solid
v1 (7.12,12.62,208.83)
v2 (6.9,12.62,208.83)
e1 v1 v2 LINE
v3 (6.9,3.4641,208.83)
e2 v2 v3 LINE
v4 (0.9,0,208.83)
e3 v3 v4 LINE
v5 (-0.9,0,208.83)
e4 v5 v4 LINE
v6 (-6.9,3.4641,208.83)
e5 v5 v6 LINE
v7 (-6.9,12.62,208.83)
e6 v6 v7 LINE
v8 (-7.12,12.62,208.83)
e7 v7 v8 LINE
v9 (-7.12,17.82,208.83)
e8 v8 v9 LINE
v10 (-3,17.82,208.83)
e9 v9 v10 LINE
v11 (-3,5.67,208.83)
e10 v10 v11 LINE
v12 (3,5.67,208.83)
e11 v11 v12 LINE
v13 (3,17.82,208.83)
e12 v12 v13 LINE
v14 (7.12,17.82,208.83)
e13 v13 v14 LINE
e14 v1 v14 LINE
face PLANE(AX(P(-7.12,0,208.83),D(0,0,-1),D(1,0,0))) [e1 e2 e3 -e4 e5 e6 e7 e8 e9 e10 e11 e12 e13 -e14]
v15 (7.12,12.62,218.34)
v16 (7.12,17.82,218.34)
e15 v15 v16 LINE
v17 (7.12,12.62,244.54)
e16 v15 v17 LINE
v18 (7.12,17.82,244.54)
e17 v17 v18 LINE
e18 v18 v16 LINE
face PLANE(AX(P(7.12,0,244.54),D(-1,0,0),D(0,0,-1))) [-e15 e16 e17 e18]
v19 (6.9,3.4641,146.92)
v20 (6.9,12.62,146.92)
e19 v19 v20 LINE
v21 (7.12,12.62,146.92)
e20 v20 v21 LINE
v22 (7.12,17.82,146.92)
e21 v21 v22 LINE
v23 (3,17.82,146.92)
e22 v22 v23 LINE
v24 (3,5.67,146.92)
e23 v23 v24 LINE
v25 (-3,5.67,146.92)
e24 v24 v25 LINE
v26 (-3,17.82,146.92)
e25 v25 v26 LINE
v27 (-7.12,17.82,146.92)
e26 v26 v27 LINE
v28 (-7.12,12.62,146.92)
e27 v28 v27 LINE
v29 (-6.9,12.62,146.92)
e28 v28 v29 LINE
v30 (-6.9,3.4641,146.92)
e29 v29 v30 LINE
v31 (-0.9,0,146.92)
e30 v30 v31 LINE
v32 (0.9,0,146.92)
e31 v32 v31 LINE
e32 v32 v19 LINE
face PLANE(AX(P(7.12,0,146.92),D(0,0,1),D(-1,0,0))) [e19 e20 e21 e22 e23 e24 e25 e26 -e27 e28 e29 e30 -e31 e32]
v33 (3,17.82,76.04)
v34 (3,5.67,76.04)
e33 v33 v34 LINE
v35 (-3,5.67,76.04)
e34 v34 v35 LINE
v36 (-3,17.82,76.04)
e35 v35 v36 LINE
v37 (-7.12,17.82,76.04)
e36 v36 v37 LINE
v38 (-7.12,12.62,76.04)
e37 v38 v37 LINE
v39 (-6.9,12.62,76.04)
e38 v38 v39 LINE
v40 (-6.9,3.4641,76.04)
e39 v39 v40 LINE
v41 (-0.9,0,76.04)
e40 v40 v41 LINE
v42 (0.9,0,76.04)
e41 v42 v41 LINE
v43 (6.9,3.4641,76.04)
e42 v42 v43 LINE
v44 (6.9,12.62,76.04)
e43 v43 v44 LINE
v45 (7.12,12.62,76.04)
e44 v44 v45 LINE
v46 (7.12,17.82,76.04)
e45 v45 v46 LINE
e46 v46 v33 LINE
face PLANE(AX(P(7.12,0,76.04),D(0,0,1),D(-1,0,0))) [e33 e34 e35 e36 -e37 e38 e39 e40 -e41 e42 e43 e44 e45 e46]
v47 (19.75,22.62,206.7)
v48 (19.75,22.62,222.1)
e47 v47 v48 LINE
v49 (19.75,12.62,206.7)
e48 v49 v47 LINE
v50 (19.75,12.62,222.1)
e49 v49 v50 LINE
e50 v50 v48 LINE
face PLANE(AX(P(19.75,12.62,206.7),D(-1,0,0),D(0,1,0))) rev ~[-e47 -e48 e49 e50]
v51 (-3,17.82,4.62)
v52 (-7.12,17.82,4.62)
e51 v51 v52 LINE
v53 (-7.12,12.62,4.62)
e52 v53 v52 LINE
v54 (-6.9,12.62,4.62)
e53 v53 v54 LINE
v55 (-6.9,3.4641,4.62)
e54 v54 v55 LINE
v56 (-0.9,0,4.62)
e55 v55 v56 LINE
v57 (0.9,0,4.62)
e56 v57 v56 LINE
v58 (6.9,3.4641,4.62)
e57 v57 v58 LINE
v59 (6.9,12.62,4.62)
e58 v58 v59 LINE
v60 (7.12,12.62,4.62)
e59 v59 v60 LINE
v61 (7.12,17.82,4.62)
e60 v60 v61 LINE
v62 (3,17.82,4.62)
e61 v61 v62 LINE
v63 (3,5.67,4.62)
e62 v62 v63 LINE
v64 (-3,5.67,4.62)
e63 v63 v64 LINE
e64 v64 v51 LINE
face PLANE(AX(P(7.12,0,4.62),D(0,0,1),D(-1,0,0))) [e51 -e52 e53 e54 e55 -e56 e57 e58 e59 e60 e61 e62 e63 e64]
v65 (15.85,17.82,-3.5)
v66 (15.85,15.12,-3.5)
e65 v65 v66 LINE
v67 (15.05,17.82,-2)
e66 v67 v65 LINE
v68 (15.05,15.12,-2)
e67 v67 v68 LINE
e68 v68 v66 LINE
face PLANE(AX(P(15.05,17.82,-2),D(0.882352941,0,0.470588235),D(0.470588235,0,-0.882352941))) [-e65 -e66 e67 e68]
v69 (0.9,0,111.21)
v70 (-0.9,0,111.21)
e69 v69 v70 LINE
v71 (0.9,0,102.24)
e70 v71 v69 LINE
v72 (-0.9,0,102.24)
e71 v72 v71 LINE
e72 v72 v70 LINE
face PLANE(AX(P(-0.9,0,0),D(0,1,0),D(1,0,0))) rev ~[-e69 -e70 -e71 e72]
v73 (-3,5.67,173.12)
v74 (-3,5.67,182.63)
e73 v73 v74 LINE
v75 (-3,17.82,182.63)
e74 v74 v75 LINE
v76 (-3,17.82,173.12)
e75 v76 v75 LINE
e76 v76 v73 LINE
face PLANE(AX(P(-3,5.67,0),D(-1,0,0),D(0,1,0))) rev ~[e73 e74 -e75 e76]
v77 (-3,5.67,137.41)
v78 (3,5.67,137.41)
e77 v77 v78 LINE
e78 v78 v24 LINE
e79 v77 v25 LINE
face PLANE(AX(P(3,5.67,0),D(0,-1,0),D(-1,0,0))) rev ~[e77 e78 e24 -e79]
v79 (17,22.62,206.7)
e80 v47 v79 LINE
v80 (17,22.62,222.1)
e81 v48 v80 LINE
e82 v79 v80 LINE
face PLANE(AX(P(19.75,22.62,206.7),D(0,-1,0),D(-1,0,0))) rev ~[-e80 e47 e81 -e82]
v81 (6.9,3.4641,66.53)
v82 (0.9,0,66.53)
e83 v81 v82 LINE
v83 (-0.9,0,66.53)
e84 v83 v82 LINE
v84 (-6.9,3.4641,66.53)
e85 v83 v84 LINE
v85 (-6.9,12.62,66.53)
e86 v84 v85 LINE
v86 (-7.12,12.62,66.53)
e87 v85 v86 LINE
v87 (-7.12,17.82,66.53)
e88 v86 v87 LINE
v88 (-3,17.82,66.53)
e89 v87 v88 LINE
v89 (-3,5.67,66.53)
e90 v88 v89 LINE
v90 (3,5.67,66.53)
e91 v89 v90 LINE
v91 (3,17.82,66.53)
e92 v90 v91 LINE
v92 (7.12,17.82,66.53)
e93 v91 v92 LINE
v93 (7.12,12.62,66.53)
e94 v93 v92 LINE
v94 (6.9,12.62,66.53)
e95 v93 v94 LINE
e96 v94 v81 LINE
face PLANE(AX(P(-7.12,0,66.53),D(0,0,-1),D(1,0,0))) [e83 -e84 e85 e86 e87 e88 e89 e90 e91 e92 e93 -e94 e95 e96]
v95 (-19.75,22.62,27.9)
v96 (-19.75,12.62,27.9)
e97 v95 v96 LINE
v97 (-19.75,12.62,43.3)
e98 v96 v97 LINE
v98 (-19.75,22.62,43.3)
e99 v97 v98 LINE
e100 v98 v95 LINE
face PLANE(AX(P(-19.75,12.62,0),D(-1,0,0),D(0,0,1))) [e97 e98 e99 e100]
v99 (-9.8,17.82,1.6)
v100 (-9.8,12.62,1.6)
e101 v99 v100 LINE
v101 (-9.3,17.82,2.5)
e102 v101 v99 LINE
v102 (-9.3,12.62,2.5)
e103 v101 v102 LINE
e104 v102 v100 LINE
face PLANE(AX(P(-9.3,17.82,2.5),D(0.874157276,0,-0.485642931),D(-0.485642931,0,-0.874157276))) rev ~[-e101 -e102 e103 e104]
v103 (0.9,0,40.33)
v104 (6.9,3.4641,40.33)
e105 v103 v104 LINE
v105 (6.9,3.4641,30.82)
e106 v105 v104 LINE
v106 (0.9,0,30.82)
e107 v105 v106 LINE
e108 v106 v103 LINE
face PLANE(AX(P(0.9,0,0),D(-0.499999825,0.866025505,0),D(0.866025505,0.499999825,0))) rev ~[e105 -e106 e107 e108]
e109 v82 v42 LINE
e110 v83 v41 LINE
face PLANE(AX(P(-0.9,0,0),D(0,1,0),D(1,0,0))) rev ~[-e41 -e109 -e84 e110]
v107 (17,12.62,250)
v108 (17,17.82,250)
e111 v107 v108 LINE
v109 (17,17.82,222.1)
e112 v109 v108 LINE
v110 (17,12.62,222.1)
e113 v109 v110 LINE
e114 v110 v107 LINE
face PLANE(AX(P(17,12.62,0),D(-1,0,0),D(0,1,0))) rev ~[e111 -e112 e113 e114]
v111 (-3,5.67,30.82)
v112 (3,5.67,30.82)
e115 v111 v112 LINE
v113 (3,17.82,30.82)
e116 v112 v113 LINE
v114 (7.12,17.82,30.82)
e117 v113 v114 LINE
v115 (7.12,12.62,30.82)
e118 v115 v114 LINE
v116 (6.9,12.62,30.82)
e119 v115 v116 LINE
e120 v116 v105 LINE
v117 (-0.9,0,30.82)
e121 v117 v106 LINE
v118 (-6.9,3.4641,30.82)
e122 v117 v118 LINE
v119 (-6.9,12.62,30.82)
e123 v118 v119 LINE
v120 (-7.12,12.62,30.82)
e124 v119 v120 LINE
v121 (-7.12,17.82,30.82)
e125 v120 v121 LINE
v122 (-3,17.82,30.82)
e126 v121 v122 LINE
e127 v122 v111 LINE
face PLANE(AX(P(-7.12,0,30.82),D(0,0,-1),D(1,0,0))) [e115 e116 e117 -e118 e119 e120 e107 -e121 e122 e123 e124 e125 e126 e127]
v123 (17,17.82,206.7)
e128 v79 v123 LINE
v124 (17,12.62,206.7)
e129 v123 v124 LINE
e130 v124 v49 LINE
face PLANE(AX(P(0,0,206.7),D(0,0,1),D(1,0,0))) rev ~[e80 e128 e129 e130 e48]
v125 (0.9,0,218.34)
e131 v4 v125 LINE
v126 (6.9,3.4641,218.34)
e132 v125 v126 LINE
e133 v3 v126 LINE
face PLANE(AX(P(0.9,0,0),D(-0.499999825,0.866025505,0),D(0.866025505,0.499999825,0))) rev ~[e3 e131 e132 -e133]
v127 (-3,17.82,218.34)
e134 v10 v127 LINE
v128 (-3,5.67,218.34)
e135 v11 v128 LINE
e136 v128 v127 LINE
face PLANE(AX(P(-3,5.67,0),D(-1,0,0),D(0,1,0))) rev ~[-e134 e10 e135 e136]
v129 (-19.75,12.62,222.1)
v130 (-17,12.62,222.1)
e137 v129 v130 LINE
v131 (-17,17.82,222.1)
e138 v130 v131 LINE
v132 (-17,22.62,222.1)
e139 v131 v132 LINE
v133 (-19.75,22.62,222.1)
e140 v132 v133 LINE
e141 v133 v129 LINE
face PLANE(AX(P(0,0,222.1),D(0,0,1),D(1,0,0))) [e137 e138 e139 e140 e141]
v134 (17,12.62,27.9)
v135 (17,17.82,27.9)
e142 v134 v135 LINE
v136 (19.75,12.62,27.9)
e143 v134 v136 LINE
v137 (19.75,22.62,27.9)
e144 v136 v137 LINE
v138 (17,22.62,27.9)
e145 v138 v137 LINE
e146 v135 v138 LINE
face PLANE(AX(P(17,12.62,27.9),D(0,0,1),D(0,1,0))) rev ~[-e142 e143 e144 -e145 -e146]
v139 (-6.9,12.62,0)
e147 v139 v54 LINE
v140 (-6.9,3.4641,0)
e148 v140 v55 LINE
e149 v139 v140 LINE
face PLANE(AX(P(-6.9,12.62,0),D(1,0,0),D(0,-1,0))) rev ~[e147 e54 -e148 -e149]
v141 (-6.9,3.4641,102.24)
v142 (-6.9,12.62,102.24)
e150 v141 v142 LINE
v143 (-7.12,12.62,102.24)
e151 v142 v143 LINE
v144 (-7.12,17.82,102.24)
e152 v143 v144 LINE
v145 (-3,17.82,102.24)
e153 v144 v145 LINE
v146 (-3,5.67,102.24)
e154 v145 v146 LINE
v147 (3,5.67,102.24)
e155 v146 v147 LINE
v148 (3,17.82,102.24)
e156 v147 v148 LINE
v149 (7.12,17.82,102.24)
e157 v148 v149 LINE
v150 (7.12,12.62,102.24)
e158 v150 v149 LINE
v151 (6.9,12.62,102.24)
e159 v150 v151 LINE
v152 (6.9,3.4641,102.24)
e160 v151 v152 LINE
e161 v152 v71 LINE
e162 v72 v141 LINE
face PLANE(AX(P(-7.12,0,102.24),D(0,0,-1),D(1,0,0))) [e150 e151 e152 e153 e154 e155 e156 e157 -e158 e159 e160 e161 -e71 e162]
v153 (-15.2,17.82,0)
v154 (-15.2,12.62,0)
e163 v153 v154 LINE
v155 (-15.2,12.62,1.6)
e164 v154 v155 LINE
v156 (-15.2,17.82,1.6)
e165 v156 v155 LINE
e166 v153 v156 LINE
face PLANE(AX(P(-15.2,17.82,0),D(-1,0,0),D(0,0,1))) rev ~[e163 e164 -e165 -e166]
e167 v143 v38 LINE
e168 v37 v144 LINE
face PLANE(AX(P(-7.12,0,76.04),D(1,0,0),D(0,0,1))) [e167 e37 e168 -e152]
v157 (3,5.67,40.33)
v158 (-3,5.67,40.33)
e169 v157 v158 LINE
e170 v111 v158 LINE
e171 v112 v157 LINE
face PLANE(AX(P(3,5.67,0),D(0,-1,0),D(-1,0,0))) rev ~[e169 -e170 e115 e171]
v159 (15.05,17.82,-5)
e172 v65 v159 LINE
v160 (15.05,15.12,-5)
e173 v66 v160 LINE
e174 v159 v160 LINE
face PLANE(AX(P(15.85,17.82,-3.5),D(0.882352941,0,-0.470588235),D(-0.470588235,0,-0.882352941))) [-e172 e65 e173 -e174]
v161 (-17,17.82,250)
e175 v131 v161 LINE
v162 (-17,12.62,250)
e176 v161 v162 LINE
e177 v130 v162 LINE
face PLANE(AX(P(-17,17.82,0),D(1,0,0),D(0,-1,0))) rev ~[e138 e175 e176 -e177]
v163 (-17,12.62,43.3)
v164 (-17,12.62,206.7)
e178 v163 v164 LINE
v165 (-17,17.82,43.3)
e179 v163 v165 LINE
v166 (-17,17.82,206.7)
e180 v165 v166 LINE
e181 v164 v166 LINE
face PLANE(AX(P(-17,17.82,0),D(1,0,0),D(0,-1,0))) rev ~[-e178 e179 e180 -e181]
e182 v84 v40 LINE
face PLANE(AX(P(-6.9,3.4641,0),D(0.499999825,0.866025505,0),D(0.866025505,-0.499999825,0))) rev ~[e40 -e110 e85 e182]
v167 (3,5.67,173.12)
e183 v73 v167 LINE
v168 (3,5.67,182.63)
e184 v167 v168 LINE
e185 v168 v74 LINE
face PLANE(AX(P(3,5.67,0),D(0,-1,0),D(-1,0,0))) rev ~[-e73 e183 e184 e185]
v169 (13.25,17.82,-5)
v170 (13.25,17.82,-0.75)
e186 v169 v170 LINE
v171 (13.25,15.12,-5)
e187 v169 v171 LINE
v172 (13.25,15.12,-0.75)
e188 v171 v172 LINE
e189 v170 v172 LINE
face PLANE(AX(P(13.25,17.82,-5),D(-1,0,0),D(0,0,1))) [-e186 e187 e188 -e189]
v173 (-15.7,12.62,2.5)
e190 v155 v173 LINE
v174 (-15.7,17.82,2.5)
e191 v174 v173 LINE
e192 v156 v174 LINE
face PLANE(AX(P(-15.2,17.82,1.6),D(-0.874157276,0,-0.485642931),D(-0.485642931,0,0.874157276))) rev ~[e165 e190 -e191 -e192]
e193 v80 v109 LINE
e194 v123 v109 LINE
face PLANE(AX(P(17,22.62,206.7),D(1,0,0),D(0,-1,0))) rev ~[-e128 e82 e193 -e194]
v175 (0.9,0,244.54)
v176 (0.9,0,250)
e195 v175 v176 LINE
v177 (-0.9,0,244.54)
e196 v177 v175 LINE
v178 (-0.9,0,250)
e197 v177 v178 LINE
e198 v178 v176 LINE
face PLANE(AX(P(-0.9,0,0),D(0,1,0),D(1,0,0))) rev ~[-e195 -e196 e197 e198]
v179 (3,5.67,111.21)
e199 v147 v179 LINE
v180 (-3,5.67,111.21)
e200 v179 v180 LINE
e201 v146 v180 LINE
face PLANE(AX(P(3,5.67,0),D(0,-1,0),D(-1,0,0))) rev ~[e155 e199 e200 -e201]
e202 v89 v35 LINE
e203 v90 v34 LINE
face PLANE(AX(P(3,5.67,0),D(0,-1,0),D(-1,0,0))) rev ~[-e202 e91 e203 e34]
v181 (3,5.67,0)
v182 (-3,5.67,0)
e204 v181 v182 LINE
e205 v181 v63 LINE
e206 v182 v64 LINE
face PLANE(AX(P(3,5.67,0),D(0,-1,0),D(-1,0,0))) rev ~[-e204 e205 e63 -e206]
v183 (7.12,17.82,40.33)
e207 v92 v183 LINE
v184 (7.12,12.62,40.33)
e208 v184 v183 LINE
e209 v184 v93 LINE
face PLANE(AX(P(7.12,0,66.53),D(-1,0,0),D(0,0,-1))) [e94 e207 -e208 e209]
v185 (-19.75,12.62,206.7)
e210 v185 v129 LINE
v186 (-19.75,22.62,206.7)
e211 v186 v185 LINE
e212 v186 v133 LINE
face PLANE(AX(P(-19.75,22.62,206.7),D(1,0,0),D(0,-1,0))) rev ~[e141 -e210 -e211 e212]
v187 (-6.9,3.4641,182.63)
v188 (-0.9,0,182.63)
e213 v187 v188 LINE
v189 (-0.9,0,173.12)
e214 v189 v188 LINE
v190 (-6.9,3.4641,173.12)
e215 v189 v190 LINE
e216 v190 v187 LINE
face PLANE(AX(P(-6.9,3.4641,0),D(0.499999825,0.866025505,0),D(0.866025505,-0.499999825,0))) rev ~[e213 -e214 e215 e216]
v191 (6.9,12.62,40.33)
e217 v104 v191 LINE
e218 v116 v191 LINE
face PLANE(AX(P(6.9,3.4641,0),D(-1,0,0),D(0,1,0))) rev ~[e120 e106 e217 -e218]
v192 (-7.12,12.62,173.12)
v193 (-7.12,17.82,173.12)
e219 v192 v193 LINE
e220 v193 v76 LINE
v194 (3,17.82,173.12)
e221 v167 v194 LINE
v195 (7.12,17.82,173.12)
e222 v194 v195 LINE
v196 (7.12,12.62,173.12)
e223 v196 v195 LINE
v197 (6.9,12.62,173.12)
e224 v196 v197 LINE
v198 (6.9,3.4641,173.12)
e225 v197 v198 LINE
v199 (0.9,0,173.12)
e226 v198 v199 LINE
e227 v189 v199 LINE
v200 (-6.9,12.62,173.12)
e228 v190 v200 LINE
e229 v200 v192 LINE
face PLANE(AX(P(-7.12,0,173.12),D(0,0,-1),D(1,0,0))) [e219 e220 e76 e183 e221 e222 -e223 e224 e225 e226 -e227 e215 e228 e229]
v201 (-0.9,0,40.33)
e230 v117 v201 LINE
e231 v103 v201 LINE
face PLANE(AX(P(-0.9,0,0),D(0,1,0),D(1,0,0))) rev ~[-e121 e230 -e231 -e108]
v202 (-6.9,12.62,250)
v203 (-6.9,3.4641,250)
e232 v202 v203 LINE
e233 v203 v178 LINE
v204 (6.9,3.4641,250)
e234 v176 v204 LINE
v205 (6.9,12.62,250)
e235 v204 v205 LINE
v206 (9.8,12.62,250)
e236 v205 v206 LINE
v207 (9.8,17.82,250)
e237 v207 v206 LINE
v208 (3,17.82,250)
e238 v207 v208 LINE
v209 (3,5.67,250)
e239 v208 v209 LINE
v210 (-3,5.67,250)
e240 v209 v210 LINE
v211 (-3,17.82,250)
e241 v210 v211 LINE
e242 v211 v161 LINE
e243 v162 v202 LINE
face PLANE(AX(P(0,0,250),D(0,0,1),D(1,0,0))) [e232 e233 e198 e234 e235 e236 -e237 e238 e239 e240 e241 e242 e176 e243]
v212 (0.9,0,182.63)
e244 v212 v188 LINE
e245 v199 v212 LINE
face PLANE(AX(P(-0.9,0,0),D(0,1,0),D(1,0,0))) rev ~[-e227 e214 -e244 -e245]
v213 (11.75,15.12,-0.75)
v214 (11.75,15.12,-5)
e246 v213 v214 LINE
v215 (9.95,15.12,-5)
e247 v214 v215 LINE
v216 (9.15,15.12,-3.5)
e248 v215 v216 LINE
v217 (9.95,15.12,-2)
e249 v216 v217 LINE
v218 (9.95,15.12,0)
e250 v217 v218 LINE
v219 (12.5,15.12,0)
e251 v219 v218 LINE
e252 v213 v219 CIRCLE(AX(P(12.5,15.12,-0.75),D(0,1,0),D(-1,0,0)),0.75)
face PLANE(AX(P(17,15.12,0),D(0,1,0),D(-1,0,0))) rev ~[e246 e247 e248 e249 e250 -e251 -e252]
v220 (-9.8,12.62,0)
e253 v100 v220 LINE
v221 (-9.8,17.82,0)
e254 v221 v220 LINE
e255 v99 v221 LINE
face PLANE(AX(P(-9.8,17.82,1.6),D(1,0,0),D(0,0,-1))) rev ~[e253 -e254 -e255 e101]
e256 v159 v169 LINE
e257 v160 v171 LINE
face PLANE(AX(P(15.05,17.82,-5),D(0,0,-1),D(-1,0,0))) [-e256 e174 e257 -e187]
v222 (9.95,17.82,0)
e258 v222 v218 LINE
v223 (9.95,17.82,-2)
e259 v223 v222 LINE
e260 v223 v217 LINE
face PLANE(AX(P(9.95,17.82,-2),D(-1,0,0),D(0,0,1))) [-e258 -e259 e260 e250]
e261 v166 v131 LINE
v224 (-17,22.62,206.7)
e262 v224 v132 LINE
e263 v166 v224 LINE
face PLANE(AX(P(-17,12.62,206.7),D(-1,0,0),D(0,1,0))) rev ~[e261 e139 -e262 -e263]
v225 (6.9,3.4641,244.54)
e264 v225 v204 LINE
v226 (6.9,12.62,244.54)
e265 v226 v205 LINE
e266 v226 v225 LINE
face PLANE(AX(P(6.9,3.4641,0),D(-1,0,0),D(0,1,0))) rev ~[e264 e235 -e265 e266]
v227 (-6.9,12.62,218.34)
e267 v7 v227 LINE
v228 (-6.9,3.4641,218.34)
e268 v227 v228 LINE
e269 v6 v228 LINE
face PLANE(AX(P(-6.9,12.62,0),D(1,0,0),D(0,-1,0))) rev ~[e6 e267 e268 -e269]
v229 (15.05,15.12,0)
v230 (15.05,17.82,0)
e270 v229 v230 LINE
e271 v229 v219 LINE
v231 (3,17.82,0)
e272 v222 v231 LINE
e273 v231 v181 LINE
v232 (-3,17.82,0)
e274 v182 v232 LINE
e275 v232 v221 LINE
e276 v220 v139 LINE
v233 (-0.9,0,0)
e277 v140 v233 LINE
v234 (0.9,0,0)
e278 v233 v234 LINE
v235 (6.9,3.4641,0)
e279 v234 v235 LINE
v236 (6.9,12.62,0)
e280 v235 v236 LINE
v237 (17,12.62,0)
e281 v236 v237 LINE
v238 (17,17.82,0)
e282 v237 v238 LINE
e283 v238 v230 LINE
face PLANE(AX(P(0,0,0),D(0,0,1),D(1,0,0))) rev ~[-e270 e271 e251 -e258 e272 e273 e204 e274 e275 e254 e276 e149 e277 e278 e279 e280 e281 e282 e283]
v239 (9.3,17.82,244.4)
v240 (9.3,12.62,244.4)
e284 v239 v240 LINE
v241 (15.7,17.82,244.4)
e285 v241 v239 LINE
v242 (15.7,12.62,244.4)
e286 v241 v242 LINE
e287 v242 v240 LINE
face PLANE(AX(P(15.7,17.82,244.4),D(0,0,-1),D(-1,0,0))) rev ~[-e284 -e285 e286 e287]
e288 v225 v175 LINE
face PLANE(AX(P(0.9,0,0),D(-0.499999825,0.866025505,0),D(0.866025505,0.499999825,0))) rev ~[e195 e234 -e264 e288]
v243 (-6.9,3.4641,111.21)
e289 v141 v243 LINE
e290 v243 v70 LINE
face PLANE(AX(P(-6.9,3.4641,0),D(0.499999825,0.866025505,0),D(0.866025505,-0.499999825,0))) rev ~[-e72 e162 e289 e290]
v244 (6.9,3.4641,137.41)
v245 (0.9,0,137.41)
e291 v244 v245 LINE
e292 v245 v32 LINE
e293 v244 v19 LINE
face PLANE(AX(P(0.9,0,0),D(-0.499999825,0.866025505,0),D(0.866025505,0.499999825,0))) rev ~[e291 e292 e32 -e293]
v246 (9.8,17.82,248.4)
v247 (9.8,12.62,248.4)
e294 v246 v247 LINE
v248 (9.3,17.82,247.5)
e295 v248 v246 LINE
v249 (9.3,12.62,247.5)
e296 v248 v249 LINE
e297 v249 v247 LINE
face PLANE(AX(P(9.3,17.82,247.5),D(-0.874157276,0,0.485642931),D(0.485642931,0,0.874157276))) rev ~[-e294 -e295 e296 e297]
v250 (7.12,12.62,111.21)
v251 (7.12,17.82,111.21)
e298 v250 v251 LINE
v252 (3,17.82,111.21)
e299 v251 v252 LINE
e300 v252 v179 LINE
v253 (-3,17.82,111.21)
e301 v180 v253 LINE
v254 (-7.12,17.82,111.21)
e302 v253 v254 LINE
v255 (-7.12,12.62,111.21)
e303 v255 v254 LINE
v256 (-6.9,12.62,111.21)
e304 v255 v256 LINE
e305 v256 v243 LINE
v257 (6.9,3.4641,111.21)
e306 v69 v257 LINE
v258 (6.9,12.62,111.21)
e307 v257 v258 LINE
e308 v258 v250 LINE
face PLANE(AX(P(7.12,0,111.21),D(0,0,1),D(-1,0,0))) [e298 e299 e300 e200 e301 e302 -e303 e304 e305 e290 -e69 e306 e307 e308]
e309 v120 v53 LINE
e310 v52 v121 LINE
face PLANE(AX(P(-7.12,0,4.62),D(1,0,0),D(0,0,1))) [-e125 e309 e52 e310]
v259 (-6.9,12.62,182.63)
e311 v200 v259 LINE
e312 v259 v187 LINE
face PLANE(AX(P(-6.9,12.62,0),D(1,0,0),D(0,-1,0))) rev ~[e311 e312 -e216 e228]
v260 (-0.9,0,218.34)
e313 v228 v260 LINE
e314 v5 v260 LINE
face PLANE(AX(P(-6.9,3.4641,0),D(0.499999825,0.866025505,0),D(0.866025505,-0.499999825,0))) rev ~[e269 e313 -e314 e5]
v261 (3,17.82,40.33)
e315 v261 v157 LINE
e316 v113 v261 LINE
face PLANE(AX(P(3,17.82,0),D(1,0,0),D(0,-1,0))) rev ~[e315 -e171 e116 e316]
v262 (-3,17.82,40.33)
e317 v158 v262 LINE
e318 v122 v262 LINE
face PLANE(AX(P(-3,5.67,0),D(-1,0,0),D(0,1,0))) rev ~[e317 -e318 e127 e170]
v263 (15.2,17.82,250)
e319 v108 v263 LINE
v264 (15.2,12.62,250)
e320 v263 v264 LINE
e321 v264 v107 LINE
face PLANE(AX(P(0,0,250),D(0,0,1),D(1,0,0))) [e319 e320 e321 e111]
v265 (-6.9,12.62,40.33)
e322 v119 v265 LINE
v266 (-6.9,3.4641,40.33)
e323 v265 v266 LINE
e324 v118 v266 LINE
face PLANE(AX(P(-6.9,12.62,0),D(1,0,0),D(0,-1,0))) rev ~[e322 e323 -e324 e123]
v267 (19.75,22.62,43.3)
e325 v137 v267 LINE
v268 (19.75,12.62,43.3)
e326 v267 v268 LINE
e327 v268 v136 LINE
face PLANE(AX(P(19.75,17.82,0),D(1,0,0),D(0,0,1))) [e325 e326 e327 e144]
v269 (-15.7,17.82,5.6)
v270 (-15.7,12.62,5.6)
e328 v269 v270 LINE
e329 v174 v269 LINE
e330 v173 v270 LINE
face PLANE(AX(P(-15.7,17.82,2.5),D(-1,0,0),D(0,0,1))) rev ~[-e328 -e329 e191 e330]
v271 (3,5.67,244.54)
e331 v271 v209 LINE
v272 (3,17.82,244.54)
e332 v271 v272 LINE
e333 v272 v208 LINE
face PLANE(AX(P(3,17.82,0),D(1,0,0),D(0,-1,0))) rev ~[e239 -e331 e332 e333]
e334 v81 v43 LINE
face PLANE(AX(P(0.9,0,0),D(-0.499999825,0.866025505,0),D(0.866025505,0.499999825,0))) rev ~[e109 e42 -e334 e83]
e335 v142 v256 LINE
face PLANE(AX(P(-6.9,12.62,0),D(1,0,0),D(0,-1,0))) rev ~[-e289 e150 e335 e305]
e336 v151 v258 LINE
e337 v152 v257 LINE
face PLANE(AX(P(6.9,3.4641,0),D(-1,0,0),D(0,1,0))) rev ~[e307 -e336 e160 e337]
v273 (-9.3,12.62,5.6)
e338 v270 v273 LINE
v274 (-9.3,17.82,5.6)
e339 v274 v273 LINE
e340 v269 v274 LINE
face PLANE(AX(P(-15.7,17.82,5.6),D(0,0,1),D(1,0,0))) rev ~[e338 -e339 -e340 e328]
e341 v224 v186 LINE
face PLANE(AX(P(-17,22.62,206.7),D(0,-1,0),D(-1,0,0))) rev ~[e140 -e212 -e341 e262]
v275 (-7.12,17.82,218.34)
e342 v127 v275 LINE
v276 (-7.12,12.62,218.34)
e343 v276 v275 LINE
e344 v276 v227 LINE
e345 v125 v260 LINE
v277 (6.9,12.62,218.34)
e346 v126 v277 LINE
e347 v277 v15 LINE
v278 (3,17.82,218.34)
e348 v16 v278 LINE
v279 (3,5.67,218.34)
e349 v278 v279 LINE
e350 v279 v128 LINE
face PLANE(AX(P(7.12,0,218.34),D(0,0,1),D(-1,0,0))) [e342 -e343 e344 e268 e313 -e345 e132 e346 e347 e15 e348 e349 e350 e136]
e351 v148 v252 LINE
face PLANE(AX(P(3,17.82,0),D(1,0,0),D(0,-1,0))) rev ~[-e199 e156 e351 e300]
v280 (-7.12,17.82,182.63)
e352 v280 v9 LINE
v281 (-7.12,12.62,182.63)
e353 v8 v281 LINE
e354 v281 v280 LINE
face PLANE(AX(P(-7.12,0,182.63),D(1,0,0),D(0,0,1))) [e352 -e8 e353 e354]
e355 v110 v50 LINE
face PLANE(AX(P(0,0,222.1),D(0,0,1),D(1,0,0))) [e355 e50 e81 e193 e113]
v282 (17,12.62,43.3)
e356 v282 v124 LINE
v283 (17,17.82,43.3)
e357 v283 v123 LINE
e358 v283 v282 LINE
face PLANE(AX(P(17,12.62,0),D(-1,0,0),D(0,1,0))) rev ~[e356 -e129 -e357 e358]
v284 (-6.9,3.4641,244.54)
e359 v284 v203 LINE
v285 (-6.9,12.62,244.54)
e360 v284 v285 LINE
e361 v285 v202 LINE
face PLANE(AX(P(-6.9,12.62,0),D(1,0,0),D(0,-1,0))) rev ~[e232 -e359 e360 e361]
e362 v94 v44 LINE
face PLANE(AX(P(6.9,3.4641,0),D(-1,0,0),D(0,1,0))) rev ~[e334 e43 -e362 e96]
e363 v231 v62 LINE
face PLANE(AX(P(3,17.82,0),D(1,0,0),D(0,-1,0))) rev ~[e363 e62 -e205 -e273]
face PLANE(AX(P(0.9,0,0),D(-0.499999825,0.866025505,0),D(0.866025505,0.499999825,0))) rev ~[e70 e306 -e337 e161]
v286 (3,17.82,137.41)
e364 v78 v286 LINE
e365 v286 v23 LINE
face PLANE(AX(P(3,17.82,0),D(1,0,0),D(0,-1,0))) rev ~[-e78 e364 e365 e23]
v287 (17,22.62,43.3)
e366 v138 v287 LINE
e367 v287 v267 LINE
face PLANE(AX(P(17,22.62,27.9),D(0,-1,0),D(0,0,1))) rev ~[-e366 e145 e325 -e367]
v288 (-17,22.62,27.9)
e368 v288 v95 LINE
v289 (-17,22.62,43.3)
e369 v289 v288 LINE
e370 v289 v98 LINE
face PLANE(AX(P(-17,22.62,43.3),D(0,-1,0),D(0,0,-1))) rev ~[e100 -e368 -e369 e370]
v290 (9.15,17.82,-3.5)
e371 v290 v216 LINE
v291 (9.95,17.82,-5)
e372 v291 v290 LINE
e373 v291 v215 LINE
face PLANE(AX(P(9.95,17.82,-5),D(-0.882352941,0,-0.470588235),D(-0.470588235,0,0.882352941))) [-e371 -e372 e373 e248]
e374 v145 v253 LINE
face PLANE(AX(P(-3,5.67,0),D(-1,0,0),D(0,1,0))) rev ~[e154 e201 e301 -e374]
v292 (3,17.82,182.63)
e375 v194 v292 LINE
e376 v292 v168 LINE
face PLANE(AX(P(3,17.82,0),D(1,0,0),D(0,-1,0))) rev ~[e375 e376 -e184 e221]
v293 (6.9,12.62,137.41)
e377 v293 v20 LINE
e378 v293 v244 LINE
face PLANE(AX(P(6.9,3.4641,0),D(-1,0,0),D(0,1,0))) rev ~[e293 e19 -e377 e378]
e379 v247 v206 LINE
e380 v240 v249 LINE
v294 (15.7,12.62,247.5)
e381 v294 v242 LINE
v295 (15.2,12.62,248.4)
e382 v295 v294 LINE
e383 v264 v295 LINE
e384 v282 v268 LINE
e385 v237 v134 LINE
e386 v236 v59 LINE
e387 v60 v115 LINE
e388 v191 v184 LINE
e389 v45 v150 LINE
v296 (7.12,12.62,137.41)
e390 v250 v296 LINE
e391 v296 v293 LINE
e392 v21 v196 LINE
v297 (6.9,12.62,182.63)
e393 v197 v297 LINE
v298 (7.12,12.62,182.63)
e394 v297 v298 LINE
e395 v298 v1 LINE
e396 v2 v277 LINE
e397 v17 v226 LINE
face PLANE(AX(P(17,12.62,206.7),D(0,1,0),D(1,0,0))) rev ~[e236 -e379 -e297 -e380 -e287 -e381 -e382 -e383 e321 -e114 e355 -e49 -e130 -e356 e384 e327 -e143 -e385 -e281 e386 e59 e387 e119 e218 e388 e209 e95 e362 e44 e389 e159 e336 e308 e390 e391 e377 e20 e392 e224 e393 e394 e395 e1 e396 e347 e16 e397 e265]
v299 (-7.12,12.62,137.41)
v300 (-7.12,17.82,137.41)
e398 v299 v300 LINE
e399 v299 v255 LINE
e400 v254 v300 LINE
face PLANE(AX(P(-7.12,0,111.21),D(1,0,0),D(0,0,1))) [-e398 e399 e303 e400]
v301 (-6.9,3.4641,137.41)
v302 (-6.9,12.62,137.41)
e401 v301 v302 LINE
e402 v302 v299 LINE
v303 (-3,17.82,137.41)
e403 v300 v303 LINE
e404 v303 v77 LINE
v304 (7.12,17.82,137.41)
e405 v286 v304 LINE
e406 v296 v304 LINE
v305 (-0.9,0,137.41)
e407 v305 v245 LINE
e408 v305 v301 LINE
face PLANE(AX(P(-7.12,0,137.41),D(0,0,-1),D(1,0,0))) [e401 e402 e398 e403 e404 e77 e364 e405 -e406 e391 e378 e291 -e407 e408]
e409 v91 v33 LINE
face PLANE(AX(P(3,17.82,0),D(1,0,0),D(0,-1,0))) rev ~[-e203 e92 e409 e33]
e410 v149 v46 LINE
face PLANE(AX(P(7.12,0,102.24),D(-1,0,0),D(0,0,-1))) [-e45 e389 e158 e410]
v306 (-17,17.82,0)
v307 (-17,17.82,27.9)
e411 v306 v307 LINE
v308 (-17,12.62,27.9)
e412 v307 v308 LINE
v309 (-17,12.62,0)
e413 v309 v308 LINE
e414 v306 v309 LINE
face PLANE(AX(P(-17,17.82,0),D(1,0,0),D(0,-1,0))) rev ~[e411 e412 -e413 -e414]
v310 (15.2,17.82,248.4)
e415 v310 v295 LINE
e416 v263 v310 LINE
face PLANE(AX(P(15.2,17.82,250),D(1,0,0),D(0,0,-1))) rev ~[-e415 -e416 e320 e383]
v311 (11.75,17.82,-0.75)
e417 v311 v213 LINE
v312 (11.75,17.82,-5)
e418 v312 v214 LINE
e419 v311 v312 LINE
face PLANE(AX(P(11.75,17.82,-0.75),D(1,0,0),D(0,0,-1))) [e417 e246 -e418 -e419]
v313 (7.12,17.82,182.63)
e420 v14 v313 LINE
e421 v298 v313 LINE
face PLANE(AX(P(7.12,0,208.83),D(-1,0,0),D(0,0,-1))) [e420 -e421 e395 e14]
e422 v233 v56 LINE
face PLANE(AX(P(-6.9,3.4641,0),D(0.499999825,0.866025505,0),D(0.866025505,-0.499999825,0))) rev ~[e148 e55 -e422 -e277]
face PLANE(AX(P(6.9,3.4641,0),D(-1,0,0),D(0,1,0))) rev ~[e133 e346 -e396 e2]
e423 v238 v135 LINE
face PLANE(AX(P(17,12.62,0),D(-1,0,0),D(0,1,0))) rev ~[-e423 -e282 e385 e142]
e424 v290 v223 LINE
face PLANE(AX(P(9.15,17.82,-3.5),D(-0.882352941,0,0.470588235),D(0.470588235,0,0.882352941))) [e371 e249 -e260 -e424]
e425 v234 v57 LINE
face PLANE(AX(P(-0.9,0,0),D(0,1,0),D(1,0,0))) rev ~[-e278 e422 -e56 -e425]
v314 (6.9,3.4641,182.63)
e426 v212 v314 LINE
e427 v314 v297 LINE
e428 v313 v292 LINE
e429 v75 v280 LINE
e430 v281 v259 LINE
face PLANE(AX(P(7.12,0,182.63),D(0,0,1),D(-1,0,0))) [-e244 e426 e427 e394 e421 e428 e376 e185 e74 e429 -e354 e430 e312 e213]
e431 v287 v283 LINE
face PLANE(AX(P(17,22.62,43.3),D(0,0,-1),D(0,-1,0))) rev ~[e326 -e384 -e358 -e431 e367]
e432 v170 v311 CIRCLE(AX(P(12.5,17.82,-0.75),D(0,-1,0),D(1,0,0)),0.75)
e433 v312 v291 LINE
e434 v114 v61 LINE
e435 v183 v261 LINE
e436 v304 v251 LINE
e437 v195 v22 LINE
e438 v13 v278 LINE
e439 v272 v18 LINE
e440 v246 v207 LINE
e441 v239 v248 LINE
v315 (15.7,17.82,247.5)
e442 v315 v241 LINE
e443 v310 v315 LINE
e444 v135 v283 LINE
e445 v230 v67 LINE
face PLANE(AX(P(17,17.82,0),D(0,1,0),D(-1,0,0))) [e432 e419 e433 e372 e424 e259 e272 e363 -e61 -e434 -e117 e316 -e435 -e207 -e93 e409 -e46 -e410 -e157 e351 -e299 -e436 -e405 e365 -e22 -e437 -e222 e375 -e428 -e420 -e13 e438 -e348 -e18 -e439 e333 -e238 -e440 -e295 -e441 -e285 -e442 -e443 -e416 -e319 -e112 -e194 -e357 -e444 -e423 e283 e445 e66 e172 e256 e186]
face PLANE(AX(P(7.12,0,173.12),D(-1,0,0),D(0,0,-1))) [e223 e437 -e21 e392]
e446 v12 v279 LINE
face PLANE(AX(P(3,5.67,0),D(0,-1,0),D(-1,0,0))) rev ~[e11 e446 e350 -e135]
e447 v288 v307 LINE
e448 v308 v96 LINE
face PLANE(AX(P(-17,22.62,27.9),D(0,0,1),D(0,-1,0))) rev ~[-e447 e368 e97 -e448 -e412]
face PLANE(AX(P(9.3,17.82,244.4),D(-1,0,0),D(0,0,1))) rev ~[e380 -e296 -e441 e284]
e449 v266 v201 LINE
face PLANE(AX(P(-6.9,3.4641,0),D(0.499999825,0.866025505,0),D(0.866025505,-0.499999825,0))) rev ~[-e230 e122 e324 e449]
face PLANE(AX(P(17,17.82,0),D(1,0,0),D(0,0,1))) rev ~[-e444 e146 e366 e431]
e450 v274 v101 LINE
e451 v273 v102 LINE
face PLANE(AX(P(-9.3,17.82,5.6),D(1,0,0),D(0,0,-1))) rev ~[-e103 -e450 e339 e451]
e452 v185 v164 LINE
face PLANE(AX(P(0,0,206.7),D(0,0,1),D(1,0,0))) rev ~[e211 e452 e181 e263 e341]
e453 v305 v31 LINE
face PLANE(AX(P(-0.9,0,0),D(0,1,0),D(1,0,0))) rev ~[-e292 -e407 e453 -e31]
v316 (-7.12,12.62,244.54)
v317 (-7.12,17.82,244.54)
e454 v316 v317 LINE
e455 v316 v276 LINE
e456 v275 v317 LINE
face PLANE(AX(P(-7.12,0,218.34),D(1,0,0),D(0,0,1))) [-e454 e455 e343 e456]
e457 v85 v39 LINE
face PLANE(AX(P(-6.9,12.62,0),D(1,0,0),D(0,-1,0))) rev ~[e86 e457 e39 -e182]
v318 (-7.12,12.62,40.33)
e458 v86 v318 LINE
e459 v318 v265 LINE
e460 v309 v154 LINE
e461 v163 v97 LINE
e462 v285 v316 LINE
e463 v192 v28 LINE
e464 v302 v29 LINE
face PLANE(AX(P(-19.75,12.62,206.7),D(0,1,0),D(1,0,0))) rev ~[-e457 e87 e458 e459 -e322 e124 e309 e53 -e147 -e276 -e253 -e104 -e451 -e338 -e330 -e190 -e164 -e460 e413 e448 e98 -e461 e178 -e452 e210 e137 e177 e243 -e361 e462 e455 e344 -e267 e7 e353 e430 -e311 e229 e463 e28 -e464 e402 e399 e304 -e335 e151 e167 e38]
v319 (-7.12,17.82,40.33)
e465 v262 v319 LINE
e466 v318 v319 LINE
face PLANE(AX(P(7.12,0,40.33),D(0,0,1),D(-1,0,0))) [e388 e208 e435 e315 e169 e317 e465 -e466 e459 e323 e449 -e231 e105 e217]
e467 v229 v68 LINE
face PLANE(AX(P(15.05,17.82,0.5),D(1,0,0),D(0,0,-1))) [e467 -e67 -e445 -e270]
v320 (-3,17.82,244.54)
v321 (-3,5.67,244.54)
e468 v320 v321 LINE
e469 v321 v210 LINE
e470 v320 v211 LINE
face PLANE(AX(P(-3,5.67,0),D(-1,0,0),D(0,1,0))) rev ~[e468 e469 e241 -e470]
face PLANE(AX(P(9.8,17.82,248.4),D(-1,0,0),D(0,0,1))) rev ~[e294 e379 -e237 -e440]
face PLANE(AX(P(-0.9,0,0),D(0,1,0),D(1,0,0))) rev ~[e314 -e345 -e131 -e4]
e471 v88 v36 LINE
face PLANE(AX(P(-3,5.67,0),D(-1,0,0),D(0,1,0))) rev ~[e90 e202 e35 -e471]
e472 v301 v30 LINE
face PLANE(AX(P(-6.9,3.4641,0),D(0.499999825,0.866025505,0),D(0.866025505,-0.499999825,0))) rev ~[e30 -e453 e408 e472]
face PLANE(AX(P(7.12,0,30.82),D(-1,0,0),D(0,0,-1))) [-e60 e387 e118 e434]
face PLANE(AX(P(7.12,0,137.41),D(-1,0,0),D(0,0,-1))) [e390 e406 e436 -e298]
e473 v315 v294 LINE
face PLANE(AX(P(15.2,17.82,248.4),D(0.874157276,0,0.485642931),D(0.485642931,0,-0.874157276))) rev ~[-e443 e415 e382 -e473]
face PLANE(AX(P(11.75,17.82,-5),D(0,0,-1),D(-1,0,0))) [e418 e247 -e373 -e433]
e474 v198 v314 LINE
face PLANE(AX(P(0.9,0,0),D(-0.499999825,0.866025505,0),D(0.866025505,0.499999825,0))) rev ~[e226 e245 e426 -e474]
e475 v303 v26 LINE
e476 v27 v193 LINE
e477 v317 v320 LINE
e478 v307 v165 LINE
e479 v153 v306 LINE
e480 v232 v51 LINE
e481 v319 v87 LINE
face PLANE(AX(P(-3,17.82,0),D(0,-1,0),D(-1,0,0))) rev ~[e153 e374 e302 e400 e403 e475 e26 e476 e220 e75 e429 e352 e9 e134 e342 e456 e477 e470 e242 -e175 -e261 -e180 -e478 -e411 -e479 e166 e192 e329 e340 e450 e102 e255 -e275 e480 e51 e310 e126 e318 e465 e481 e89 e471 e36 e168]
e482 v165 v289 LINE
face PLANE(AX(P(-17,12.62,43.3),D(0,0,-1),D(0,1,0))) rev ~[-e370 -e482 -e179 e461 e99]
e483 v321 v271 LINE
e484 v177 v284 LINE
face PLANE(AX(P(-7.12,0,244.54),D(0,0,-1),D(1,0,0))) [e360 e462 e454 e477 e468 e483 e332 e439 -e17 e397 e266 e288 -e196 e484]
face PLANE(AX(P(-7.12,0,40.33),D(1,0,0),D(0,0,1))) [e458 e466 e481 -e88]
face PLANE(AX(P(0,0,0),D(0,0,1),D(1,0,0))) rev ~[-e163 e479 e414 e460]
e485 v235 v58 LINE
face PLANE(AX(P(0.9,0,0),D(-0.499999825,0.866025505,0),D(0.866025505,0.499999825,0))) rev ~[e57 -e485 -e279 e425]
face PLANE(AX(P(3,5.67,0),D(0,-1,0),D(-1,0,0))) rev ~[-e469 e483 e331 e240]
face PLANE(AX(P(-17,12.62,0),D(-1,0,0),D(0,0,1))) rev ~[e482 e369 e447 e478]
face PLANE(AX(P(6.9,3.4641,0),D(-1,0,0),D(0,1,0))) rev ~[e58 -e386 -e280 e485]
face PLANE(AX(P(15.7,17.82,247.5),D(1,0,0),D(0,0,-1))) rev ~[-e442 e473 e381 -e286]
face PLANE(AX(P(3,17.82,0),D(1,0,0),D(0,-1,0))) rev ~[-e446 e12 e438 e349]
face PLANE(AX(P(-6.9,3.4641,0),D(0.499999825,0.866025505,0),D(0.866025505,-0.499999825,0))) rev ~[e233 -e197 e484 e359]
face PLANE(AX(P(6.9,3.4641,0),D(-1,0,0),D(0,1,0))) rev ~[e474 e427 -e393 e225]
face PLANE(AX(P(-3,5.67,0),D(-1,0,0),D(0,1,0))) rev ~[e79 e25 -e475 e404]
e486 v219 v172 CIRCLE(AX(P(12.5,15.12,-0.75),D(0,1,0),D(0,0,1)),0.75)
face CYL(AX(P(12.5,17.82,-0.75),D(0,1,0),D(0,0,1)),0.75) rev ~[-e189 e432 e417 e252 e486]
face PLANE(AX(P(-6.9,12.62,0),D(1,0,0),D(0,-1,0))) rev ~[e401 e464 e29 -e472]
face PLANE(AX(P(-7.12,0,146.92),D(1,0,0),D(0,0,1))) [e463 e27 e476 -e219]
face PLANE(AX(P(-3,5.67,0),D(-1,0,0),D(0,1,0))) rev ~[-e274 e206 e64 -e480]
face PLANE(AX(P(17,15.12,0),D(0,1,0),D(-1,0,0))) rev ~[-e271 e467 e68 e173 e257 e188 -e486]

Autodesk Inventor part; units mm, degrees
sketch "Sketch_1" plane through (0, 0, 0) normal (0, 0, 1) x (1, 0, 0)
  line L0 (-17, 17.82) -> (-17, 12.62)
  line L1 (-17, 12.62) -> (-6.9, 12.62)
  line L2 (-6.9, 12.62) -> (-6.9, 3.4641)
  line L3 (-6.9, 3.4641) -> (-0.9, 0)
  line L4 (-0.9, 0) -> (0.9, 0)
  line L5 (0.9, 0) -> (6.9, 3.4641)
  line L6 (6.9, 3.4641) -> (6.9, 12.62)
  line L7 (6.9, 12.62) -> (17, 12.62)
  line L8 (17, 12.62) -> (17, 17.82)
  line L9 (17, 17.82) -> (3, 17.82)
  line L10 (3, 17.82) -> (3, 5.67)
  line L11 (3, 5.67) -> (-3, 5.67)
  line L12 (-3, 5.67) -> (-3, 17.82)
  line L13 (-3, 17.82) -> (-17, 17.82)
extrude "Extrusion1" add sketch "Sketch_1" along normal blind 250
sketch "Sketch_9" plane through (0, 0, 0) normal (0, 1, 0) x (-1, 0, 0)
  line L0 (7.12, 4.62) -> (7.12, 30.82)
  line L1 (7.12, 30.82) -> (-7.12, 30.82)
  line L2 (-7.12, 30.82) -> (-7.12, 4.62)
  line L3 (-7.12, 4.62) -> (7.12, 4.62)
extrude "Extrusion2" cut sketch "Sketch_9" along normal blind 25
sketch "Sketch_2" plane through (0, 0, 0) normal (0, 1, 0) x (-1, 0, 0)
  line L0 (7.12, 40.33) -> (7.12, 66.53)
  line L1 (7.12, 66.53) -> (-7.12, 66.53)
  line L2 (-7.12, 66.53) -> (-7.12, 40.33)
  line L3 (-7.12, 40.33) -> (7.12, 40.33)
extrude "Extrusion3" cut sketch "Sketch_2" along normal blind 25
sketch "Sketch_3" plane through (0, 0, 0) normal (0, 1, 0) x (-1, 0, 0)
  line L0 (7.12, 76.04) -> (7.12, 102.24)
  line L1 (7.12, 102.24) -> (-7.12, 102.24)
  line L2 (-7.12, 102.24) -> (-7.12, 76.04)
  line L3 (-7.12, 76.04) -> (7.12, 76.04)
extrude "Extrusion4" cut sketch "Sketch_3" along normal blind 25
sketch "Sketch_4" plane through (0, 0, 0) normal (0, 1, 0) x (-1, 0, 0)
  line L0 (7.12, 111.21) -> (7.12, 137.41)
  line L1 (7.12, 137.41) -> (-7.12, 137.41)
  line L2 (-7.12, 137.41) -> (-7.12, 111.21)
  line L3 (-7.12, 111.21) -> (7.12, 111.21)
extrude "Extrusion5" cut sketch "Sketch_4" along normal blind 25
sketch "Sketch_5" plane through (0, 0, 0) normal (0, 1, 0) x (-1, 0, 0)
  line L0 (7.12, 146.92) -> (7.12, 173.12)
  line L1 (7.12, 173.12) -> (-7.12, 173.12)
  line L2 (-7.12, 173.12) -> (-7.12, 146.92)
  line L3 (-7.12, 146.92) -> (7.12, 146.92)
extrude "Extrusion6" cut sketch "Sketch_5" along normal blind 25
sketch "Sketch_6" plane through (0, 0, 0) normal (0, 1, 0) x (-1, 0, 0)
  line L0 (7.12, 182.63) -> (7.12, 208.83)
  line L1 (7.12, 208.83) -> (-7.12, 208.83)
  line L2 (-7.12, 208.83) -> (-7.12, 182.63)
  line L3 (-7.12, 182.63) -> (7.12, 182.63)
extrude "Extrusion7" cut sketch "Sketch_6" along normal blind 25
sketch "Sketch_7" plane through (0, 0, 0) normal (0, 1, 0) x (-1, 0, 0)
  line L0 (7.12, 218.34) -> (7.12, 244.54)
  line L1 (7.12, 244.54) -> (-7.12, 244.54)
  line L2 (-7.12, 244.54) -> (-7.12, 218.34)
  line L3 (-7.12, 218.34) -> (7.12, 218.34)
extrude "Extrusion8" cut sketch "Sketch_7" along normal blind 25
sketch "Sketch_10" plane through (17, 17.82, 0) normal (0, 1, 0) x (-1, 0, 0)
  line L0 (1.15, -3.5) -> (1.95, -5)
  line L1 (1.95, -5) -> (3.75, -5)
  line L2 (3.75, -5) -> (3.75, -0.75)
  arc A0 (4.5, 0) -> (3.75, -0.75) centre (4.5, -0.75) ccw
  arc A1 (5.25, -0.75) -> (4.5, 0) centre (4.5, -0.75) ccw
  line L3 (5.25, -0.75) -> (5.25, -5)
  line L4 (5.25, -5) -> (7.05, -5)
  line L5 (7.05, -5) -> (7.85, -3.5)
  line L6 (7.85, -3.5) -> (7.05, -2)
  line L7 (7.05, -2) -> (7.05, 0.5)
  line L8 (7.05, 0.5) -> (1.95, 0.5)
  line L9 (1.95, 0.5) -> (1.95, -2)
  line L10 (1.95, -2) -> (1.15, -3.5)
extrude "Extrusion9" add sketch "Sketch_10" against normal blind 2.7
sketch "Sketch_12" plane through (17, 17.82, 0) normal (0, 1, 0) x (-1, 0, 0)
  line L0 (26.3, 5.6) -> (26.3, 2.5)
  line L1 (26.3, 2.5) -> (26.8, 1.6)
  line L2 (26.8, 1.6) -> (26.8, 0)
  line L3 (26.8, 0) -> (32.2, 0)
  line L4 (32.2, 0) -> (32.2, 1.6)
  line L5 (32.2, 1.6) -> (32.7, 2.5)
  line L6 (32.7, 2.5) -> (32.7, 5.6)
  line L7 (32.7, 5.6) -> (26.3, 5.6)
extrude "Extrusion11" cut sketch "Sketch_12" against normal blind 6
sketch "Sketch_13" plane through (-17, 17.82, 250) normal (0, 1, 0) x (1, 0, 0)
  line L0 (26.3, 5.6) -> (26.3, 2.5)
  line L1 (26.3, 2.5) -> (26.8, 1.6)
  line L2 (26.8, 1.6) -> (26.8, 0)
  line L3 (26.8, 0) -> (32.2, 0)
  line L4 (32.2, 0) -> (32.2, 1.6)
  line L5 (32.2, 1.6) -> (32.7, 2.5)
  line L6 (32.7, 2.5) -> (32.7, 5.6)
  line L7 (32.7, 5.6) -> (26.3, 5.6)
extrude "Extrusion12" cut sketch "Sketch_13" against normal blind 6
sketch "Sketch_16" plane through (-17, 12.62, 0) normal (-1, 0, 0) x (0, 0, 1)
  line L0 (27.9, 10) -> (27.9, 0)
  line L1 (27.9, 0) -> (43.3, 0)
  line L2 (43.3, 0) -> (43.3, 10)
  line L3 (43.3, 10) -> (27.9, 10)
extrude "Extrusion13" add sketch "Sketch_16" along normal blind 2.75
sketch "Sketch_14" plane through (17, 17.82, 0) normal (1, 0, 0) x (0, 0, 1)
  line L0 (27.9, -4.8) -> (43.3, -4.8)
  line L1 (43.3, -4.8) -> (43.3, 5.2)
  line L2 (43.3, 5.2) -> (27.9, 5.2)
  line L3 (27.9, 5.2) -> (27.9, -4.8)
extrude "Extrusion14" add sketch "Sketch_14" along normal blind 2.75
sketch "Sketch_15" plane through (0, 0, 206.7) normal (0, 0, 1) x (1, 0, 0)
  line L0 (-19.75, 22.62) -> (-19.75, 12.62)
  line L1 (-19.75, 12.62) -> (-17, 12.62)
  line L2 (-17, 12.62) -> (-17, 22.62)
  line L3 (-17, 22.62) -> (-19.75, 22.62)
extrude "Extrusion15" add sketch "Sketch_15" along normal blind 15.4
sketch "Sketch_17" plane through (0, 0, 206.7) normal (0, 0, 1) x (1, 0, 0)
  line L0 (17, 22.62) -> (17, 12.62)
  line L1 (17, 12.62) -> (19.75, 12.62)
  line L2 (19.75, 12.62) -> (19.75, 22.62)
  line L3 (19.75, 22.62) -> (17, 22.62)
extrude "Extrusion16" add sketch "Sketch_17" along normal blind 15.4
ref_plane "p1_XY" through (0, 0, 0) normal (0, 1, 0) x (1, 0, 0)
ref_plane "p1_YZ" through (0, 0, 0) normal (1, 0, 0) x (0, 0, -1)
ref_plane "p1_ZX" through (0, 0, 0) normal (0, 0, -1) x (0, 1, 0)
properties part number "PRO10315 Rolle fuer Rollenleiste 250"
